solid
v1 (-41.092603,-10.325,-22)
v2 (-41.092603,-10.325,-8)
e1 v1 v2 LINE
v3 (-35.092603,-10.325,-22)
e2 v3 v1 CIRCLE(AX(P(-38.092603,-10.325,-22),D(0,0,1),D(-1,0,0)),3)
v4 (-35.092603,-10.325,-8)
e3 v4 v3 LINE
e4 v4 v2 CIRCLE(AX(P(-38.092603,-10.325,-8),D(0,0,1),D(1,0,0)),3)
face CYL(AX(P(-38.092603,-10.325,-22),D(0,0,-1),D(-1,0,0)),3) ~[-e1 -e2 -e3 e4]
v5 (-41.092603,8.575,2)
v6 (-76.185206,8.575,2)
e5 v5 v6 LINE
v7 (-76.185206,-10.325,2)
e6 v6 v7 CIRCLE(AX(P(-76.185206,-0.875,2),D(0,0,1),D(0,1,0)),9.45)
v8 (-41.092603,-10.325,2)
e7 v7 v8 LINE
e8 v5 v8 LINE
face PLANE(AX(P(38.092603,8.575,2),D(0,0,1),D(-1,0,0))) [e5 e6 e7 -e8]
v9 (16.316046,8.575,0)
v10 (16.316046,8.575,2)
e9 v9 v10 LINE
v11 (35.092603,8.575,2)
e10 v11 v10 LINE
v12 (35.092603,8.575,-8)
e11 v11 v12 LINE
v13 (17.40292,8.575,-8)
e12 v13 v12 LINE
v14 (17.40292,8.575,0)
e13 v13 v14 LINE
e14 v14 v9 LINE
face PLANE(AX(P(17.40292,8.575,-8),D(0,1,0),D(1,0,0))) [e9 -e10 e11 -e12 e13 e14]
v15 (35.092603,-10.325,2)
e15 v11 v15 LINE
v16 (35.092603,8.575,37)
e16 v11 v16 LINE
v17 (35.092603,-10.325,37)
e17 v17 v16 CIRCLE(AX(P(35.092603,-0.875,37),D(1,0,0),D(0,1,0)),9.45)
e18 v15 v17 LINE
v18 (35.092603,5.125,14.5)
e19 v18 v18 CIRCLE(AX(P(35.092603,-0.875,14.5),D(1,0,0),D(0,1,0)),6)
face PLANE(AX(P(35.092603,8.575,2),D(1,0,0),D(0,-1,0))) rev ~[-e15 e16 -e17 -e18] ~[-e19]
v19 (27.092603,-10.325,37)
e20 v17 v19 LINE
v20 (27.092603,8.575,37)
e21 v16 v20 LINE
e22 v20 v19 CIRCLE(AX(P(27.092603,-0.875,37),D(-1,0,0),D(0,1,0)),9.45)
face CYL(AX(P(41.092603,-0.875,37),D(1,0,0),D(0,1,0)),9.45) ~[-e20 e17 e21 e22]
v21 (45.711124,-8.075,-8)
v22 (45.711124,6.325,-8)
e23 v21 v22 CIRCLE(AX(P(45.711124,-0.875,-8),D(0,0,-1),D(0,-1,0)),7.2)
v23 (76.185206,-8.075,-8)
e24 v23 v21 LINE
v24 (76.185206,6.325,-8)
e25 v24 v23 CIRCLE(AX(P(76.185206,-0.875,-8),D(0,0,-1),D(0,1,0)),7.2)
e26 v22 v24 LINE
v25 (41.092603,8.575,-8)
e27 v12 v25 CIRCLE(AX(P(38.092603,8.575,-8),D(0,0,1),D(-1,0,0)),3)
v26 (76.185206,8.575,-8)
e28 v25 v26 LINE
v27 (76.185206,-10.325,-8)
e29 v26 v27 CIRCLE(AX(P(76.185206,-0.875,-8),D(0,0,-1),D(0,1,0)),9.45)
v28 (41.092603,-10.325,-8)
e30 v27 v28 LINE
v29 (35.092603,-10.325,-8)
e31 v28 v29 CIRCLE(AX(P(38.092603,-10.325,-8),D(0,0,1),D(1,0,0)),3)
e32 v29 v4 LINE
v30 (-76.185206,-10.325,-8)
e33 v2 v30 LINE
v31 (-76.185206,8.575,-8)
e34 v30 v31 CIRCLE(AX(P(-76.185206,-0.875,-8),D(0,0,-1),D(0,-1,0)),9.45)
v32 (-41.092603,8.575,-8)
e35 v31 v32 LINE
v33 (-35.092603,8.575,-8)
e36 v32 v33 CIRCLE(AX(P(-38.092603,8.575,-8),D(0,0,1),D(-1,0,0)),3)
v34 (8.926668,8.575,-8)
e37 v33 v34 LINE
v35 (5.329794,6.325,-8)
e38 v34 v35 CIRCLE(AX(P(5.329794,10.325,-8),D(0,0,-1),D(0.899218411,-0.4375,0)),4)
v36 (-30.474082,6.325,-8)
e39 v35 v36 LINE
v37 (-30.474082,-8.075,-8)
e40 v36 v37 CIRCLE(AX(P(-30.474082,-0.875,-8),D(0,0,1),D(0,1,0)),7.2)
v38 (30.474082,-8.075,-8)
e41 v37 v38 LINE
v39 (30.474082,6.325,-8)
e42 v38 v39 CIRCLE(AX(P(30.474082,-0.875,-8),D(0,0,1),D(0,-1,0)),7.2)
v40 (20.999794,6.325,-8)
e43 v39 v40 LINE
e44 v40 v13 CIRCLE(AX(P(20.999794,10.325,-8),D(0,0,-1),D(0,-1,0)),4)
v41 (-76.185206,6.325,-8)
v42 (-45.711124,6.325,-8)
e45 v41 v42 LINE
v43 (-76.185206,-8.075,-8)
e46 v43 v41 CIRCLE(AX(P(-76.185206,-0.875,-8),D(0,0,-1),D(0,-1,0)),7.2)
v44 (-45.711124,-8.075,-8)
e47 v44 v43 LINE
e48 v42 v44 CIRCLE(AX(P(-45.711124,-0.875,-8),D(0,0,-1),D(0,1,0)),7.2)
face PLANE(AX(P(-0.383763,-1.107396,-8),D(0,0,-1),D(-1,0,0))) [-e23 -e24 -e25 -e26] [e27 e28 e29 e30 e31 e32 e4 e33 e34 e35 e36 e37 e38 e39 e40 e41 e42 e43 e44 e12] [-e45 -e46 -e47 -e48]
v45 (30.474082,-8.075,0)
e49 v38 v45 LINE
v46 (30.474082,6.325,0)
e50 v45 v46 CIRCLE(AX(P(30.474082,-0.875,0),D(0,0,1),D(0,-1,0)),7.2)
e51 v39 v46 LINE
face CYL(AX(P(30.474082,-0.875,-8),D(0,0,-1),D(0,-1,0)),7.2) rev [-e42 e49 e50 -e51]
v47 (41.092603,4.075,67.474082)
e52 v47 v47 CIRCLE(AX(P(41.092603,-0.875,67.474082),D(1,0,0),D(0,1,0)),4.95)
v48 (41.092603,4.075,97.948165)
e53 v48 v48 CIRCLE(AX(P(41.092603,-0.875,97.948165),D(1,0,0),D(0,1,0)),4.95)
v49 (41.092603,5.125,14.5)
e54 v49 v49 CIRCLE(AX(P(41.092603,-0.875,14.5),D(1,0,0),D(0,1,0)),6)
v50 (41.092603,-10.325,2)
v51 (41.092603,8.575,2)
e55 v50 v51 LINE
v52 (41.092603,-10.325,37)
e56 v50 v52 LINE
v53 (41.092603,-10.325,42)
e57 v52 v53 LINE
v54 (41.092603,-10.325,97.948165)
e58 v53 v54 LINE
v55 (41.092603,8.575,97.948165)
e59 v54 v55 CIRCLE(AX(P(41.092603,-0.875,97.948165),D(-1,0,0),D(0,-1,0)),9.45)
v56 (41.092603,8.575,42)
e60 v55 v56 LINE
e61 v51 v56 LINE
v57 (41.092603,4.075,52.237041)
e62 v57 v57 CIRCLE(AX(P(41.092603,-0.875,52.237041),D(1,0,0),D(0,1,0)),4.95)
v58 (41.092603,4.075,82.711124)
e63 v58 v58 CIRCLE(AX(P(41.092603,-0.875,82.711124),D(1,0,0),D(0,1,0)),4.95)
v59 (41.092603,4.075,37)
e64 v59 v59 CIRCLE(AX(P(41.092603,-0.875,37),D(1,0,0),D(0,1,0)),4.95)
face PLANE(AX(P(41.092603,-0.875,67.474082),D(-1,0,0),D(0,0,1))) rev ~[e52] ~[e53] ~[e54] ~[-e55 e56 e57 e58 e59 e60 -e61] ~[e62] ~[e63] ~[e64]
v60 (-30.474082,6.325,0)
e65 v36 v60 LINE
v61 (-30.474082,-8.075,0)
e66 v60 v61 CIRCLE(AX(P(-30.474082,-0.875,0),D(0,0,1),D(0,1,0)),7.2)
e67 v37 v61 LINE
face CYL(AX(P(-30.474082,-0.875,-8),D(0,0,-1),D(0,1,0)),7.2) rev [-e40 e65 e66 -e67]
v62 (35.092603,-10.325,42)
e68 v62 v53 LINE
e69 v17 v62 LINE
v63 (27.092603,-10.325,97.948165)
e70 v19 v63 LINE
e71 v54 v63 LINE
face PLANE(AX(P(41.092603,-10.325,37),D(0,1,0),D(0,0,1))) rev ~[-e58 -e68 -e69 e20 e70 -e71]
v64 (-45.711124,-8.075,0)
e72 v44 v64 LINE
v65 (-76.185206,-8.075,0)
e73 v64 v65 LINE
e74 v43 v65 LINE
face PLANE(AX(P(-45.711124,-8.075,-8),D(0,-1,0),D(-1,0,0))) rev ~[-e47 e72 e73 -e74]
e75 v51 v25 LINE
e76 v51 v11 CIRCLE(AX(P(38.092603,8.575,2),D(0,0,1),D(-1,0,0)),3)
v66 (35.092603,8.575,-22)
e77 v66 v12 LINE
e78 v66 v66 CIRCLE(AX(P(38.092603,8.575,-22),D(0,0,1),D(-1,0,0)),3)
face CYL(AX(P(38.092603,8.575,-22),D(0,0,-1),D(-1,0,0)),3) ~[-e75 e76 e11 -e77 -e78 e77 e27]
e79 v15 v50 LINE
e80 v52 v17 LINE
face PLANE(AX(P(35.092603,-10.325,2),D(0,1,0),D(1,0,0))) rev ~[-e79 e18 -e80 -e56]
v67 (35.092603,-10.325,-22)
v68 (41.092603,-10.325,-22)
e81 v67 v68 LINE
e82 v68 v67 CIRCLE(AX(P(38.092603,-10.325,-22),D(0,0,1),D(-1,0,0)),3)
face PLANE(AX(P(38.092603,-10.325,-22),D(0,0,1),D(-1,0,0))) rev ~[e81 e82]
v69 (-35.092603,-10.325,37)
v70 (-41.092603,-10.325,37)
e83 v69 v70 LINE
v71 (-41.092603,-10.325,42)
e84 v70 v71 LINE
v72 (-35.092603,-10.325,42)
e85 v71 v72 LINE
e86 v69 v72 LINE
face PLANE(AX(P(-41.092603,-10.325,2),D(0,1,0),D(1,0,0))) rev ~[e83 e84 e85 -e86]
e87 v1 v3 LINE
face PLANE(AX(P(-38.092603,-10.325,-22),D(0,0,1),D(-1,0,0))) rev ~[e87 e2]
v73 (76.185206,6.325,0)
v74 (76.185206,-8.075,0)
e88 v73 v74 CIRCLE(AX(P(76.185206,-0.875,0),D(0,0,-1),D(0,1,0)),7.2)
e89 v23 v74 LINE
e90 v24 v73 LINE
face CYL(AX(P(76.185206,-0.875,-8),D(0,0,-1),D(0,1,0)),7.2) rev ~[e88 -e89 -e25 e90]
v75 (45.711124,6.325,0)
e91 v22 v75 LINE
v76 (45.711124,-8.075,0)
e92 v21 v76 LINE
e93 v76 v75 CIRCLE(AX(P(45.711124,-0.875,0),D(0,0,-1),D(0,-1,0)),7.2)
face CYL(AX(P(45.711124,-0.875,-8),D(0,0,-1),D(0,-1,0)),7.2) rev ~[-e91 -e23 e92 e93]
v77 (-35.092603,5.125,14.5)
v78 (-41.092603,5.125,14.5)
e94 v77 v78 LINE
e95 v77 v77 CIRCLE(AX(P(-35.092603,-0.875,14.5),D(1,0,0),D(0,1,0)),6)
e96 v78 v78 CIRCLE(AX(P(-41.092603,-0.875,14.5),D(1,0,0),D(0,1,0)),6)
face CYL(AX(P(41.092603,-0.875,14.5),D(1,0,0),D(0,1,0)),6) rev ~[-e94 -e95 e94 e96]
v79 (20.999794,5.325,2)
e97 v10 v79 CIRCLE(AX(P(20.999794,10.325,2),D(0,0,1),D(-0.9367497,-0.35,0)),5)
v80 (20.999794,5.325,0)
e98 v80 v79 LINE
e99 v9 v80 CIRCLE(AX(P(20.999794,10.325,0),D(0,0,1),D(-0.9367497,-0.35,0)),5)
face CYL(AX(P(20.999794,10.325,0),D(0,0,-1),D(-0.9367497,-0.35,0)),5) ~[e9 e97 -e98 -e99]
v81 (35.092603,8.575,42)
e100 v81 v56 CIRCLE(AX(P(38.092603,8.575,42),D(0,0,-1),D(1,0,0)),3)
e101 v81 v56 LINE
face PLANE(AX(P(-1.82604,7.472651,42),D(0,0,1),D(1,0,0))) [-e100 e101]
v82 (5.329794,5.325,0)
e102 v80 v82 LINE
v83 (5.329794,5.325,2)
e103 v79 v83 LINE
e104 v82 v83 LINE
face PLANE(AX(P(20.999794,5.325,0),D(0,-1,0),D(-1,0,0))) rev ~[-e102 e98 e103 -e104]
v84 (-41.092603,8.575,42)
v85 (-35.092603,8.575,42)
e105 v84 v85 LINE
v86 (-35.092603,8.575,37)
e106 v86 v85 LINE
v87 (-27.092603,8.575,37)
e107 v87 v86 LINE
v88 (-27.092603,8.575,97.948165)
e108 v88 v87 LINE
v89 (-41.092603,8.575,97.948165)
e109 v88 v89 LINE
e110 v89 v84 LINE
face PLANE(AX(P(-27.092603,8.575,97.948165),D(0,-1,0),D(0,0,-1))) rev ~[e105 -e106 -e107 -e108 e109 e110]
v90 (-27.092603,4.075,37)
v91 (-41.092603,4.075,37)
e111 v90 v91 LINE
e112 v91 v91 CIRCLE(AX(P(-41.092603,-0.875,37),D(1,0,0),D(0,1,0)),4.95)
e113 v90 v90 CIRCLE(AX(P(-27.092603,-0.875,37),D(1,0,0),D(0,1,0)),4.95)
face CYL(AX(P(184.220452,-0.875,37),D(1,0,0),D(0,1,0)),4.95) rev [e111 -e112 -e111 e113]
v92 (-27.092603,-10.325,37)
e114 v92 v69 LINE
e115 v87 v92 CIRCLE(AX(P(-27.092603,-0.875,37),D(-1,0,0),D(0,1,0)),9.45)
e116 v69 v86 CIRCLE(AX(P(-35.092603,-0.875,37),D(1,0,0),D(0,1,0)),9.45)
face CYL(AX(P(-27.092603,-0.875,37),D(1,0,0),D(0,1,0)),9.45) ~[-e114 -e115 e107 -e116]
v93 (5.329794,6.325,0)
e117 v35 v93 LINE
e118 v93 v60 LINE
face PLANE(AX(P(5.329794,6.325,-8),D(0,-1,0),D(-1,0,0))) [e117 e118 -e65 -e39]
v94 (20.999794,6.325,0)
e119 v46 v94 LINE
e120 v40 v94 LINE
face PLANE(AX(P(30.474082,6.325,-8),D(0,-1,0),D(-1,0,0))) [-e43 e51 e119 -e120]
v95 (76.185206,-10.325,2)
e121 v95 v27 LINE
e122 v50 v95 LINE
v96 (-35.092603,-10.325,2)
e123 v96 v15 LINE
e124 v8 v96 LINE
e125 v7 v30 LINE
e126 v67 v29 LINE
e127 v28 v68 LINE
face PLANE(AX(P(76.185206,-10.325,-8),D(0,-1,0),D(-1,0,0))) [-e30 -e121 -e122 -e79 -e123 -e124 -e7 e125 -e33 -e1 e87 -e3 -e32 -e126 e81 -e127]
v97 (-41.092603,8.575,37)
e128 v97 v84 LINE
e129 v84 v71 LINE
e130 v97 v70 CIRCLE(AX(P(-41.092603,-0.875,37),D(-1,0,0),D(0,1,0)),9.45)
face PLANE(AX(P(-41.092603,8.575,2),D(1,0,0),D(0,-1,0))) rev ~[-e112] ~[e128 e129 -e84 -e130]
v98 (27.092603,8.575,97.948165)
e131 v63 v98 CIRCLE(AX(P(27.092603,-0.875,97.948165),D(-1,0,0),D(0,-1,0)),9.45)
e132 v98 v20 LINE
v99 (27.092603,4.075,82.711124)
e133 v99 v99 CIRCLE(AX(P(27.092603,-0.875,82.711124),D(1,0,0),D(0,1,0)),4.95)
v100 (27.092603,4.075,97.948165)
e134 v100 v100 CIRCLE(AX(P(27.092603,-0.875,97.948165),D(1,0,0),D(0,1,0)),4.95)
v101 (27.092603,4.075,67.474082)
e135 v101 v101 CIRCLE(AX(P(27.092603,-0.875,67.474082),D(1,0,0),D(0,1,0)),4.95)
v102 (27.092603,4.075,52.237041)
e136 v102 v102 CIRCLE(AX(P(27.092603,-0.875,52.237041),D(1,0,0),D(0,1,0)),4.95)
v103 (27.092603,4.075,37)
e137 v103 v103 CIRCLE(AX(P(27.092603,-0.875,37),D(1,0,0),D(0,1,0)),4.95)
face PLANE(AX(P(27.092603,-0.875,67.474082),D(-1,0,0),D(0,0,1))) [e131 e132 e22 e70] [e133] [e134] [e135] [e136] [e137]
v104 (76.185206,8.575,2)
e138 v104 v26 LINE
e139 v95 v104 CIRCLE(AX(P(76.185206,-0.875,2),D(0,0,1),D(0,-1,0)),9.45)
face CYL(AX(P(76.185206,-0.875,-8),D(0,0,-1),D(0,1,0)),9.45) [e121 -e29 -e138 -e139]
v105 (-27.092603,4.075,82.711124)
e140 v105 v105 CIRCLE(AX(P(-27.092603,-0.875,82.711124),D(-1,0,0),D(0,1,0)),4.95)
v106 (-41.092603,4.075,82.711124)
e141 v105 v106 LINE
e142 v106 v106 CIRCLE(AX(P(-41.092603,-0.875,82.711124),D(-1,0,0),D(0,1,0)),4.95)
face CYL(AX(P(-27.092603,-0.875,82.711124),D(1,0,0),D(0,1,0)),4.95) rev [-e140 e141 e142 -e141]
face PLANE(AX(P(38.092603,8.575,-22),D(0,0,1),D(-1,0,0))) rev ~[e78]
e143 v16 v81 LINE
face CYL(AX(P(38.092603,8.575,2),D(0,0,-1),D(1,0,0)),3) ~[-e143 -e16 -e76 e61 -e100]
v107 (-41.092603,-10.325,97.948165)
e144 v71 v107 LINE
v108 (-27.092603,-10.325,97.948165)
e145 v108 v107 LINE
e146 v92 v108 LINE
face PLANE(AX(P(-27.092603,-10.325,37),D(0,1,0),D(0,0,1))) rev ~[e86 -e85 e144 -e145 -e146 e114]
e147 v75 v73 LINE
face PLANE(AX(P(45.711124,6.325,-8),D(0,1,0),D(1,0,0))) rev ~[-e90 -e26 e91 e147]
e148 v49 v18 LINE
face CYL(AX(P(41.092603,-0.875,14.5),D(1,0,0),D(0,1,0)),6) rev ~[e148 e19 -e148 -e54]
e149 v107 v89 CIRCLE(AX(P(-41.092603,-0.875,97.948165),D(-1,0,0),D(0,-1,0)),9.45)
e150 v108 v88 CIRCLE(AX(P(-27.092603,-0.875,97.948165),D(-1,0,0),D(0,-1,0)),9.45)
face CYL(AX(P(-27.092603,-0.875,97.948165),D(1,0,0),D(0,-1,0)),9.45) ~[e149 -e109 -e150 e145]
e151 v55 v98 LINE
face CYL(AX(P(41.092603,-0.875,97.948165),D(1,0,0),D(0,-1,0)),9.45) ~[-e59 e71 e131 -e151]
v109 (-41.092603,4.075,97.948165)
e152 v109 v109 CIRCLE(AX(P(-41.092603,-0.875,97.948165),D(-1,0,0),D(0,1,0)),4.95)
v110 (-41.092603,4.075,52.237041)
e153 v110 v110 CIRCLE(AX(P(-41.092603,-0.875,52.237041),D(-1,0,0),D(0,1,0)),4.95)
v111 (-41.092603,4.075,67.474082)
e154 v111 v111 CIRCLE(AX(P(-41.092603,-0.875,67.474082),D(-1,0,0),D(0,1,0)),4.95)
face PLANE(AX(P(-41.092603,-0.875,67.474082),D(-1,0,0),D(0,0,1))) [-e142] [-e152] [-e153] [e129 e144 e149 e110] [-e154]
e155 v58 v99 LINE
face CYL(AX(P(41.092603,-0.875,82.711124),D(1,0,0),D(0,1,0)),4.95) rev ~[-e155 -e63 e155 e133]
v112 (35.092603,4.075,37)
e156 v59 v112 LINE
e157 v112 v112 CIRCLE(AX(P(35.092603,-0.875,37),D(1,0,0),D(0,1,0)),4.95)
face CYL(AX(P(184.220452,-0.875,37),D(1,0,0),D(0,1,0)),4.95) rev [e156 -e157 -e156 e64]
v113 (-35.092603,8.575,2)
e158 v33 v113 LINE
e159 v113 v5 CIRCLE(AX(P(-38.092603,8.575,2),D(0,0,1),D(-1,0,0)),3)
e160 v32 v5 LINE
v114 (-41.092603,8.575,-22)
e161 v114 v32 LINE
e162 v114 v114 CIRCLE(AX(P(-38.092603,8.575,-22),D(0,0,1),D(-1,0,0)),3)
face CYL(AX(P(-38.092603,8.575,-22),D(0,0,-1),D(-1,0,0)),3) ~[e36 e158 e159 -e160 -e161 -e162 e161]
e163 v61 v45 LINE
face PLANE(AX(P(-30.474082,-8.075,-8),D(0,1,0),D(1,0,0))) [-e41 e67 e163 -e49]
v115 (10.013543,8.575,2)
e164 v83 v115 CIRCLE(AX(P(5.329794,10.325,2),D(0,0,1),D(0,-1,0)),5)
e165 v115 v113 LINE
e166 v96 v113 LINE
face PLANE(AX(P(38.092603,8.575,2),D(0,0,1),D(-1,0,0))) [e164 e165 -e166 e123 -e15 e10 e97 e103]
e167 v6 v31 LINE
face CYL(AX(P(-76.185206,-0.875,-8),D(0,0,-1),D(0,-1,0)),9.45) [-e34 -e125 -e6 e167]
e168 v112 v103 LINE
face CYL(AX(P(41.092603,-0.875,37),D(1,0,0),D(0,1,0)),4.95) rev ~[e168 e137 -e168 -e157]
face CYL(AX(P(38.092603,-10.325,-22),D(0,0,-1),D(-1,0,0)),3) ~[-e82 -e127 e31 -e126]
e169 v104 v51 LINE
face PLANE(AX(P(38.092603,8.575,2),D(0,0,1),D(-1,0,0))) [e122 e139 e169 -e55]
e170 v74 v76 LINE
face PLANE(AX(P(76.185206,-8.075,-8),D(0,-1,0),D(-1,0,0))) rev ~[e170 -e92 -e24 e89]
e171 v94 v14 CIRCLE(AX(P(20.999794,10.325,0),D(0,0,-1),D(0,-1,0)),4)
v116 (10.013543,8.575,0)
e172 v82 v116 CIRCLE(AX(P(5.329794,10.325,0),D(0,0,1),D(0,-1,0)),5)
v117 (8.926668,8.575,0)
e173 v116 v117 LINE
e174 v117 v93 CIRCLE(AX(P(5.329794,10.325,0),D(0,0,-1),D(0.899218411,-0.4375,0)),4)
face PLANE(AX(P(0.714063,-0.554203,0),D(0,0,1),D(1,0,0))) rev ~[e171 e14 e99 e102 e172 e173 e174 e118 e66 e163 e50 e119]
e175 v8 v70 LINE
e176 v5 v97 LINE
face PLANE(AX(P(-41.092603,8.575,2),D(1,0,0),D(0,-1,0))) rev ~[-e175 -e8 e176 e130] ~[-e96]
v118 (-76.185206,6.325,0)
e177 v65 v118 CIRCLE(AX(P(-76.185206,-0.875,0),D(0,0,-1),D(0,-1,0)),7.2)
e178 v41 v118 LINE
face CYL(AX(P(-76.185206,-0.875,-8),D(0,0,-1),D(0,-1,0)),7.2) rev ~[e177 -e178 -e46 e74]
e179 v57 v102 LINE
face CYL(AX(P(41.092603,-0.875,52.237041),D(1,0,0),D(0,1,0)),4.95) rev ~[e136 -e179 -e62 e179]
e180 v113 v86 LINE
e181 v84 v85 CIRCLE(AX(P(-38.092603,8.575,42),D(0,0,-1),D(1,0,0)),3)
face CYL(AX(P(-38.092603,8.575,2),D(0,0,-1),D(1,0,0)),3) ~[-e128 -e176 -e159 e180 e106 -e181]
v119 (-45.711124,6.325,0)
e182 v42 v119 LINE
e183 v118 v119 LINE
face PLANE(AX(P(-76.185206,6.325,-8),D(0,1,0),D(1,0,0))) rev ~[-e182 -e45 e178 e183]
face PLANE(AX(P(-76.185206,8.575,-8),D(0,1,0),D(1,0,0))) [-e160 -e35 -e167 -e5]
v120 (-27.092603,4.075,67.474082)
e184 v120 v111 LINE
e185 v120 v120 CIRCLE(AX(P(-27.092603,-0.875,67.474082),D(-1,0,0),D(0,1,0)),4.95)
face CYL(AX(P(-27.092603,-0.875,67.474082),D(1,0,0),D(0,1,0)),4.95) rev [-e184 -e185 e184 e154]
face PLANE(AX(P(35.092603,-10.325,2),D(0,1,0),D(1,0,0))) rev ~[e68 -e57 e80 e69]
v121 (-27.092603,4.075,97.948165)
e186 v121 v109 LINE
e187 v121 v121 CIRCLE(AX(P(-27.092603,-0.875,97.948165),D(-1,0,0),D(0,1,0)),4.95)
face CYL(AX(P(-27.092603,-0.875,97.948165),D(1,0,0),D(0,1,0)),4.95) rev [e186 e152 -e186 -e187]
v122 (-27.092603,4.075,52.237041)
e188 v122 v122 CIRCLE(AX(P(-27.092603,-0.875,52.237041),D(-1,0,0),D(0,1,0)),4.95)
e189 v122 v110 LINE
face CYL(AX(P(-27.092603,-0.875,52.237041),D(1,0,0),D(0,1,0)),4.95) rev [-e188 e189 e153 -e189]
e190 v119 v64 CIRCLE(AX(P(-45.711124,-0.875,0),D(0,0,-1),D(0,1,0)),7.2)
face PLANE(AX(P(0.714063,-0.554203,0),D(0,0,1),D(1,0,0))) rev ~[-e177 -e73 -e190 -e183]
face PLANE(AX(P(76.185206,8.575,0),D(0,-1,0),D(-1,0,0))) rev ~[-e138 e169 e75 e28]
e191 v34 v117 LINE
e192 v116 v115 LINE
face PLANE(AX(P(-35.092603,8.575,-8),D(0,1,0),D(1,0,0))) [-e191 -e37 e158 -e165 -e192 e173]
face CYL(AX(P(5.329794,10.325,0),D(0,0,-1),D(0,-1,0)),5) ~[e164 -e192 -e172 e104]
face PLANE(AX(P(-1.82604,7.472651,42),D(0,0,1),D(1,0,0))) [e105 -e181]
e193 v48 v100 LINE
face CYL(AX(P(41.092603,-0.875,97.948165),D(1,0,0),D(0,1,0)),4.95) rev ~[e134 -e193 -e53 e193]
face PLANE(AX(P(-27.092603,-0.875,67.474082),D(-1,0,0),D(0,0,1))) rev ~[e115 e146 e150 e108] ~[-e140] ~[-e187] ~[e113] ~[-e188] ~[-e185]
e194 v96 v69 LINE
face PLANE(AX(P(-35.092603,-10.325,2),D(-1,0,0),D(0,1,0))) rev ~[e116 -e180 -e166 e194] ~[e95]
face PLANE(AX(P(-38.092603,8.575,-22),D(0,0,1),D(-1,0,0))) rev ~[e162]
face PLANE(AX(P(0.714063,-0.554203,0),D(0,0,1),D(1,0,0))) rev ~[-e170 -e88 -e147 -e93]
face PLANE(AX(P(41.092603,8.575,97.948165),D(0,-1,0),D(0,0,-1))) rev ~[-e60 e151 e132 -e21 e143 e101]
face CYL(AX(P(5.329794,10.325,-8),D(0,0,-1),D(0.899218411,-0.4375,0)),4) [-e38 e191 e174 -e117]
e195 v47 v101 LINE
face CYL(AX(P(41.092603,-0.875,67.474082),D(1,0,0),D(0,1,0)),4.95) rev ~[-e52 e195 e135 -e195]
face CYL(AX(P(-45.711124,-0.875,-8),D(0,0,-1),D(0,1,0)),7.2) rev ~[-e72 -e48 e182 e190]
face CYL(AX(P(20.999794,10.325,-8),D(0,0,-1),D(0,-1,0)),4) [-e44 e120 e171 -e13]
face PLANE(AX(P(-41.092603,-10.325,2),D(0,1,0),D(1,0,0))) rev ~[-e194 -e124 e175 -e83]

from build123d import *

# Parameters (mm, degrees)
EXTRUDE_1_DEPTH          = 2
EXTRUDE_START            = -24
SKETCH_2_R               = 3
EXTRUDE_2_DEPTH          = 24
EXTRUDE_START_2          = 8
EXTRUDE_3_DEPTH          = 8
SKETCH_5_W               = 143.526768474
SKETCH_5_H               = 22.779611496
CUT_EXTRUDE_1_DEPTH      = 90.927438057
EXTRUDE_4_DEPTH          = 50
SKETCH_7_R               = 6
CUT_EXTRUDE_2_DEPTH      = 138.469699072
SKETCH_8_W               = 162.700191743
SKETCH_8_H               = 85.823894635
CUT_EXTRUDE_3_DEPTH      = 10
SKETCH_9_R               = 4.95
EXTRUDE_5_DEPTH          = 14
EXTRUDE_START_3          = -14
SKETCH_10_R              = 4.95
EXTRUDE_6_DEPTH          = 14
CUT_EXTRUDE_4_DEPTH      = 157.127849217
CUT_EXTRUDE_4_DEPTH_BACK = 157.127849217
SKETCH_11_R              = 4.95


with BuildPart() as part:
    # Эскиз1 → Бобышка-Вытянуть1 (new body)
    with BuildSketch(Plane.XY):
        with BuildLine():
            Line((20.999794095, 5.325), (5.329794095, 5.325))
            ThreePointArc((5.329794095, 5.325), (8.180232657, 6.217080819), (10.013542594, 8.575))
            Line((10.013542594, 8.575), (-35.092602953, 8.575))
            ThreePointArc((-35.092602953, 8.575), (-38.092602953, 5.575), (-41.092602953, 8.575))
            Line((-41.092602953, 8.575), (-76.185205905, 8.575))
            ThreePointArc((-76.185205905, 8.575), (-85.635205905, -0.875), (-76.185205905, -10.325))
            Line((-76.185205905, -10.325), (-41.092602953, -10.325))
            ThreePointArc((-41.092602953, -10.325), (-38.092602953, -7.325), (-35.092602953, -10.325))
            Line((-35.092602953, -10.325), (35.092602953, -10.325))
            ThreePointArc((35.092602953, -10.325), (38.092602953, -7.325), (41.092602953, -10.325))
            Line((41.092602953, -10.325), (76.185205905, -10.325))
            ThreePointArc((76.185205905, -10.325), (85.635205905, -0.875), (76.185205905, 8.575))
            Line((76.185205905, 8.575), (41.092602953, 8.575))
            ThreePointArc((41.092602953, 8.575), (38.092602953, 5.575), (35.092602953, 8.575))
            Line((35.092602953, 8.575), (16.316045596, 8.575))
            ThreePointArc((16.316045596, 8.575), (18.149355532, 6.217080819), (20.999794095, 5.325))
        make_face()
    extrude(amount=EXTRUDE_1_DEPTH)

    # Эскиз2 → Бобышка-Вытянуть2 (add)
    with BuildSketch(Plane.XY.offset(2).offset(EXTRUDE_START)):
        with Locations(Location((38.092602953, 8.575, 0), (0, 0, 180))):
            Circle(SKETCH_2_R)
        with Locations(Location((38.092602953, -10.325, 0), (0, 0, 180))):
            Circle(SKETCH_2_R)
        with Locations(Location((-38.092602953, -10.325, 0), (0, 0, 180))):
            Circle(SKETCH_2_R)
        with Locations(Location((-38.092602953, 8.575, 0), (0, 0, 180))):
            Circle(SKETCH_2_R)
    extrude(amount=EXTRUDE_2_DEPTH)

    # Эскиз4 → Бобышка-Вытянуть3 (add)
    with BuildSketch(Plane(origin=(0, 0, 0), x_dir=(-1, 0, 0), z_dir=(0, 0, -1)).offset(EXTRUDE_START_2)):
        with BuildLine():
            Line((-17.402920452, 8.575), (-35.092602953, 8.575))
            ThreePointArc((-35.092602953, 8.575), (-38.092602953, 5.575), (-41.092602953, 8.575))
            Line((-41.092602953, 8.575), (-76.185205905, 8.575))
            ThreePointArc((-76.185205905, 8.575), (-85.635205905, -0.875), (-76.185205905, -10.325))
            Line((-76.185205905, -10.325), (-41.092602953, -10.325))
            ThreePointArc((-41.092602953, -10.325), (-38.092602953, -7.325), (-35.092602953, -10.325))
            Line((-35.092602953, -10.325), (35.092602953, -10.325))
            ThreePointArc((35.092602953, -10.325), (38.092602953, -7.325), (41.092602953, -10.325))
            Line((41.092602953, -10.325), (76.185205905, -10.325))
            ThreePointArc((76.185205905, -10.325), (85.635205905, -0.875), (76.185205905, 8.575))
            Line((76.185205905, 8.575), (41.092602953, 8.575))
            ThreePointArc((41.092602953, 8.575), (38.092602953, 5.575), (35.092602953, 8.575))
            Line((35.092602953, 8.575), (-8.926667737, 8.575))
            ThreePointArc((-8.926667737, 8.575), (-7.451114438, 6.933835008), (-5.329794095, 6.325))
            Line((-5.329794095, 6.325), (30.474082362, 6.325))
            ThreePointArc((30.474082362, 6.325), (37.674082362, -0.875), (30.474082362, -8.075))
            Line((30.474082362, -8.075), (-30.474082362, -8.075))
            ThreePointArc((-30.474082362, -8.075), (-37.674082362, -0.875), (-30.474082362, 6.325))
            Line((-30.474082362, 6.325), (-20.999794095, 6.325))
            ThreePointArc((-20.999794095, 6.325), (-18.878473751, 6.933835008), (-17.402920452, 8.575))
        make_face()
        with BuildLine():
            Line((-45.711123543, 6.325), (-76.185205905, 6.325))
            ThreePointArc((-76.185205905, 6.325), (-83.385205905, -0.875), (-76.185205905, -8.075))
            Line((-76.185205905, -8.075), (-45.711123543, -8.075))
            ThreePointArc((-45.711123543, -8.075), (-38.511123543, -0.875), (-45.711123543, 6.325))
        make_face(mode=Mode.SUBTRACT)
        with BuildLine():
            Line((76.185205905, 6.325), (45.711123543, 6.325))
            ThreePointArc((45.711123543, 6.325), (38.511123543, -0.875), (45.711123543, -8.075))
            Line((45.711123543, -8.075), (76.185205905, -8.075))
            ThreePointArc((76.185205905, -8.075), (83.385205905, -0.875), (76.185205905, 6.325))
        make_face(mode=Mode.SUBTRACT)
    extrude(amount=-EXTRUDE_3_DEPTH)

    # Эскиз5 → Вырез-Вытянуть1 (cut, through all)
    with BuildSketch(Plane.XY.offset(2)):
        with Locations((16.343060787, -21.714805748)):
            Rectangle(SKETCH_5_W, SKETCH_5_H)
    extrude(amount=-CUT_EXTRUDE_1_DEPTH, mode=Mode.SUBTRACT)

    # Эскиз6 → Бобышка-Вытянуть4 (add)
    with BuildSketch(Plane.XY.offset(2)):
        with BuildLine():
            ThreePointArc((-35.092602953, 8.575), (-38.092602953, 11.575), (-41.092602953, 8.575))
            Line((-41.092602953, 8.575), (-41.092602953, -10.325))
            Line((-41.092602953, -10.325), (-35.092602953, -10.325))
            Line((-35.092602953, -10.325), (-35.092602953, 8.575))
        make_face()
        with BuildLine():
            Line((35.092602953, 8.575), (35.092602953, -10.325))
            Line((35.092602953, -10.325), (41.092602953, -10.325))
            Line((41.092602953, -10.325), (41.092602953, 8.575))
            ThreePointArc((41.092602953, 8.575), (38.092602953, 11.575), (35.092602953, 8.575))
        make_face()
    extrude(amount=EXTRUDE_4_DEPTH)

    # Эскиз7 → Вырез-Вытянуть2 (cut, through all)
    with BuildSketch(Plane(origin=(41.092602953, 0, 0), x_dir=(0, 0, -1), z_dir=(1, 0, 0))):
        with Locations(Location((-14.5, -0.875, 0), (0, 0, 90))):
            Circle(SKETCH_7_R)
    extrude(amount=-CUT_EXTRUDE_2_DEPTH, mode=Mode.SUBTRACT)

    # Эскиз8 → Вырез-Вытянуть3 (cut)
    with BuildSketch(Plane.XY.offset(52)):
        with Locations((-1.826040312, 7.472651168)):
            Rectangle(SKETCH_8_W, SKETCH_8_H)
    extrude(amount=-CUT_EXTRUDE_3_DEPTH, mode=Mode.SUBTRACT)

    # Эскиз9 → Бобышка-Вытянуть5 (add)
    with BuildSketch(Plane(origin=(41.092602953, 0, 0), x_dir=(0, 0, -1), z_dir=(1, 0, 0))):
        with BuildLine():
            Line((-97.948164724, 8.575), (-37, 8.575))
            ThreePointArc((-37, 8.575), (-27.55, -0.875), (-37, -10.325))
            Line((-37, -10.325), (-97.948164724, -10.325))
            ThreePointArc((-97.948164724, -10.325), (-107.398164724, -0.875), (-97.948164724, 8.575))
        make_face()
        with Locations(Location((-97.948164724, -0.875, 0), (0, 0, 90))):
            Circle(SKETCH_9_R, mode=Mode.SUBTRACT)
        with Locations(Location((-82.711123543, -0.875, 0), (0, 0, 90))):
            Circle(SKETCH_9_R, mode=Mode.SUBTRACT)
        with Locations(Location((-67.474082362, -0.875, 0), (0, 0, 90))):
            Circle(SKETCH_9_R, mode=Mode.SUBTRACT)
        with Locations(Location((-52.237041181, -0.875, 0), (0, 0, 90))):
            Circle(SKETCH_9_R, mode=Mode.SUBTRACT)
        with Locations(Location((-37, -0.875, 0), (0, 0, 90))):
            Circle(SKETCH_9_R, mode=Mode.SUBTRACT)
    extrude(amount=-EXTRUDE_5_DEPTH)

    # Эскиз10 → Бобышка-Вытянуть6 (add)
    with BuildSketch(Plane.ZY.offset(41.092602953).offset(EXTRUDE_START_3)):
        with BuildLine():
            Line((97.948164724, 8.575), (37, 8.575))
            ThreePointArc((37, 8.575), (27.55, -0.875), (37, -10.325))
            Line((37, -10.325), (97.948164724, -10.325))
            ThreePointArc((97.948164724, -10.325), (107.398164724, -0.875), (97.948164724, 8.575))
        make_face()
        with Locations(Location((52.237041181, -0.875, 0), (0, 0, 90))):
            Circle(SKETCH_10_R, mode=Mode.SUBTRACT)
        with Locations(Location((67.474082362, -0.875, 0), (0, 0, 90))):
            Circle(SKETCH_10_R, mode=Mode.SUBTRACT)
        with Locations(Location((82.711123543, -0.875, 0), (0, 0, 90))):
            Circle(SKETCH_10_R, mode=Mode.SUBTRACT)
        with Locations(Location((97.948164724, -0.875, 0), (0, 0, 90))):
            Circle(SKETCH_10_R, mode=Mode.SUBTRACT)
    extrude(amount=EXTRUDE_6_DEPTH)

    # Эскиз11 → Вырез-Вытянуть4 (cut, two sides: drawn at the far end of the back side and taken through both)
    with BuildSketch(Plane.ZY.offset(-27.092602953).offset(-CUT_EXTRUDE_4_DEPTH_BACK)):
        with Locations(Location((37, -0.875, 0), (0, 0, 90))):
            Circle(SKETCH_11_R)
    extrude(amount=CUT_EXTRUDE_4_DEPTH + CUT_EXTRUDE_4_DEPTH_BACK, mode=Mode.SUBTRACT)


solid = part.part
